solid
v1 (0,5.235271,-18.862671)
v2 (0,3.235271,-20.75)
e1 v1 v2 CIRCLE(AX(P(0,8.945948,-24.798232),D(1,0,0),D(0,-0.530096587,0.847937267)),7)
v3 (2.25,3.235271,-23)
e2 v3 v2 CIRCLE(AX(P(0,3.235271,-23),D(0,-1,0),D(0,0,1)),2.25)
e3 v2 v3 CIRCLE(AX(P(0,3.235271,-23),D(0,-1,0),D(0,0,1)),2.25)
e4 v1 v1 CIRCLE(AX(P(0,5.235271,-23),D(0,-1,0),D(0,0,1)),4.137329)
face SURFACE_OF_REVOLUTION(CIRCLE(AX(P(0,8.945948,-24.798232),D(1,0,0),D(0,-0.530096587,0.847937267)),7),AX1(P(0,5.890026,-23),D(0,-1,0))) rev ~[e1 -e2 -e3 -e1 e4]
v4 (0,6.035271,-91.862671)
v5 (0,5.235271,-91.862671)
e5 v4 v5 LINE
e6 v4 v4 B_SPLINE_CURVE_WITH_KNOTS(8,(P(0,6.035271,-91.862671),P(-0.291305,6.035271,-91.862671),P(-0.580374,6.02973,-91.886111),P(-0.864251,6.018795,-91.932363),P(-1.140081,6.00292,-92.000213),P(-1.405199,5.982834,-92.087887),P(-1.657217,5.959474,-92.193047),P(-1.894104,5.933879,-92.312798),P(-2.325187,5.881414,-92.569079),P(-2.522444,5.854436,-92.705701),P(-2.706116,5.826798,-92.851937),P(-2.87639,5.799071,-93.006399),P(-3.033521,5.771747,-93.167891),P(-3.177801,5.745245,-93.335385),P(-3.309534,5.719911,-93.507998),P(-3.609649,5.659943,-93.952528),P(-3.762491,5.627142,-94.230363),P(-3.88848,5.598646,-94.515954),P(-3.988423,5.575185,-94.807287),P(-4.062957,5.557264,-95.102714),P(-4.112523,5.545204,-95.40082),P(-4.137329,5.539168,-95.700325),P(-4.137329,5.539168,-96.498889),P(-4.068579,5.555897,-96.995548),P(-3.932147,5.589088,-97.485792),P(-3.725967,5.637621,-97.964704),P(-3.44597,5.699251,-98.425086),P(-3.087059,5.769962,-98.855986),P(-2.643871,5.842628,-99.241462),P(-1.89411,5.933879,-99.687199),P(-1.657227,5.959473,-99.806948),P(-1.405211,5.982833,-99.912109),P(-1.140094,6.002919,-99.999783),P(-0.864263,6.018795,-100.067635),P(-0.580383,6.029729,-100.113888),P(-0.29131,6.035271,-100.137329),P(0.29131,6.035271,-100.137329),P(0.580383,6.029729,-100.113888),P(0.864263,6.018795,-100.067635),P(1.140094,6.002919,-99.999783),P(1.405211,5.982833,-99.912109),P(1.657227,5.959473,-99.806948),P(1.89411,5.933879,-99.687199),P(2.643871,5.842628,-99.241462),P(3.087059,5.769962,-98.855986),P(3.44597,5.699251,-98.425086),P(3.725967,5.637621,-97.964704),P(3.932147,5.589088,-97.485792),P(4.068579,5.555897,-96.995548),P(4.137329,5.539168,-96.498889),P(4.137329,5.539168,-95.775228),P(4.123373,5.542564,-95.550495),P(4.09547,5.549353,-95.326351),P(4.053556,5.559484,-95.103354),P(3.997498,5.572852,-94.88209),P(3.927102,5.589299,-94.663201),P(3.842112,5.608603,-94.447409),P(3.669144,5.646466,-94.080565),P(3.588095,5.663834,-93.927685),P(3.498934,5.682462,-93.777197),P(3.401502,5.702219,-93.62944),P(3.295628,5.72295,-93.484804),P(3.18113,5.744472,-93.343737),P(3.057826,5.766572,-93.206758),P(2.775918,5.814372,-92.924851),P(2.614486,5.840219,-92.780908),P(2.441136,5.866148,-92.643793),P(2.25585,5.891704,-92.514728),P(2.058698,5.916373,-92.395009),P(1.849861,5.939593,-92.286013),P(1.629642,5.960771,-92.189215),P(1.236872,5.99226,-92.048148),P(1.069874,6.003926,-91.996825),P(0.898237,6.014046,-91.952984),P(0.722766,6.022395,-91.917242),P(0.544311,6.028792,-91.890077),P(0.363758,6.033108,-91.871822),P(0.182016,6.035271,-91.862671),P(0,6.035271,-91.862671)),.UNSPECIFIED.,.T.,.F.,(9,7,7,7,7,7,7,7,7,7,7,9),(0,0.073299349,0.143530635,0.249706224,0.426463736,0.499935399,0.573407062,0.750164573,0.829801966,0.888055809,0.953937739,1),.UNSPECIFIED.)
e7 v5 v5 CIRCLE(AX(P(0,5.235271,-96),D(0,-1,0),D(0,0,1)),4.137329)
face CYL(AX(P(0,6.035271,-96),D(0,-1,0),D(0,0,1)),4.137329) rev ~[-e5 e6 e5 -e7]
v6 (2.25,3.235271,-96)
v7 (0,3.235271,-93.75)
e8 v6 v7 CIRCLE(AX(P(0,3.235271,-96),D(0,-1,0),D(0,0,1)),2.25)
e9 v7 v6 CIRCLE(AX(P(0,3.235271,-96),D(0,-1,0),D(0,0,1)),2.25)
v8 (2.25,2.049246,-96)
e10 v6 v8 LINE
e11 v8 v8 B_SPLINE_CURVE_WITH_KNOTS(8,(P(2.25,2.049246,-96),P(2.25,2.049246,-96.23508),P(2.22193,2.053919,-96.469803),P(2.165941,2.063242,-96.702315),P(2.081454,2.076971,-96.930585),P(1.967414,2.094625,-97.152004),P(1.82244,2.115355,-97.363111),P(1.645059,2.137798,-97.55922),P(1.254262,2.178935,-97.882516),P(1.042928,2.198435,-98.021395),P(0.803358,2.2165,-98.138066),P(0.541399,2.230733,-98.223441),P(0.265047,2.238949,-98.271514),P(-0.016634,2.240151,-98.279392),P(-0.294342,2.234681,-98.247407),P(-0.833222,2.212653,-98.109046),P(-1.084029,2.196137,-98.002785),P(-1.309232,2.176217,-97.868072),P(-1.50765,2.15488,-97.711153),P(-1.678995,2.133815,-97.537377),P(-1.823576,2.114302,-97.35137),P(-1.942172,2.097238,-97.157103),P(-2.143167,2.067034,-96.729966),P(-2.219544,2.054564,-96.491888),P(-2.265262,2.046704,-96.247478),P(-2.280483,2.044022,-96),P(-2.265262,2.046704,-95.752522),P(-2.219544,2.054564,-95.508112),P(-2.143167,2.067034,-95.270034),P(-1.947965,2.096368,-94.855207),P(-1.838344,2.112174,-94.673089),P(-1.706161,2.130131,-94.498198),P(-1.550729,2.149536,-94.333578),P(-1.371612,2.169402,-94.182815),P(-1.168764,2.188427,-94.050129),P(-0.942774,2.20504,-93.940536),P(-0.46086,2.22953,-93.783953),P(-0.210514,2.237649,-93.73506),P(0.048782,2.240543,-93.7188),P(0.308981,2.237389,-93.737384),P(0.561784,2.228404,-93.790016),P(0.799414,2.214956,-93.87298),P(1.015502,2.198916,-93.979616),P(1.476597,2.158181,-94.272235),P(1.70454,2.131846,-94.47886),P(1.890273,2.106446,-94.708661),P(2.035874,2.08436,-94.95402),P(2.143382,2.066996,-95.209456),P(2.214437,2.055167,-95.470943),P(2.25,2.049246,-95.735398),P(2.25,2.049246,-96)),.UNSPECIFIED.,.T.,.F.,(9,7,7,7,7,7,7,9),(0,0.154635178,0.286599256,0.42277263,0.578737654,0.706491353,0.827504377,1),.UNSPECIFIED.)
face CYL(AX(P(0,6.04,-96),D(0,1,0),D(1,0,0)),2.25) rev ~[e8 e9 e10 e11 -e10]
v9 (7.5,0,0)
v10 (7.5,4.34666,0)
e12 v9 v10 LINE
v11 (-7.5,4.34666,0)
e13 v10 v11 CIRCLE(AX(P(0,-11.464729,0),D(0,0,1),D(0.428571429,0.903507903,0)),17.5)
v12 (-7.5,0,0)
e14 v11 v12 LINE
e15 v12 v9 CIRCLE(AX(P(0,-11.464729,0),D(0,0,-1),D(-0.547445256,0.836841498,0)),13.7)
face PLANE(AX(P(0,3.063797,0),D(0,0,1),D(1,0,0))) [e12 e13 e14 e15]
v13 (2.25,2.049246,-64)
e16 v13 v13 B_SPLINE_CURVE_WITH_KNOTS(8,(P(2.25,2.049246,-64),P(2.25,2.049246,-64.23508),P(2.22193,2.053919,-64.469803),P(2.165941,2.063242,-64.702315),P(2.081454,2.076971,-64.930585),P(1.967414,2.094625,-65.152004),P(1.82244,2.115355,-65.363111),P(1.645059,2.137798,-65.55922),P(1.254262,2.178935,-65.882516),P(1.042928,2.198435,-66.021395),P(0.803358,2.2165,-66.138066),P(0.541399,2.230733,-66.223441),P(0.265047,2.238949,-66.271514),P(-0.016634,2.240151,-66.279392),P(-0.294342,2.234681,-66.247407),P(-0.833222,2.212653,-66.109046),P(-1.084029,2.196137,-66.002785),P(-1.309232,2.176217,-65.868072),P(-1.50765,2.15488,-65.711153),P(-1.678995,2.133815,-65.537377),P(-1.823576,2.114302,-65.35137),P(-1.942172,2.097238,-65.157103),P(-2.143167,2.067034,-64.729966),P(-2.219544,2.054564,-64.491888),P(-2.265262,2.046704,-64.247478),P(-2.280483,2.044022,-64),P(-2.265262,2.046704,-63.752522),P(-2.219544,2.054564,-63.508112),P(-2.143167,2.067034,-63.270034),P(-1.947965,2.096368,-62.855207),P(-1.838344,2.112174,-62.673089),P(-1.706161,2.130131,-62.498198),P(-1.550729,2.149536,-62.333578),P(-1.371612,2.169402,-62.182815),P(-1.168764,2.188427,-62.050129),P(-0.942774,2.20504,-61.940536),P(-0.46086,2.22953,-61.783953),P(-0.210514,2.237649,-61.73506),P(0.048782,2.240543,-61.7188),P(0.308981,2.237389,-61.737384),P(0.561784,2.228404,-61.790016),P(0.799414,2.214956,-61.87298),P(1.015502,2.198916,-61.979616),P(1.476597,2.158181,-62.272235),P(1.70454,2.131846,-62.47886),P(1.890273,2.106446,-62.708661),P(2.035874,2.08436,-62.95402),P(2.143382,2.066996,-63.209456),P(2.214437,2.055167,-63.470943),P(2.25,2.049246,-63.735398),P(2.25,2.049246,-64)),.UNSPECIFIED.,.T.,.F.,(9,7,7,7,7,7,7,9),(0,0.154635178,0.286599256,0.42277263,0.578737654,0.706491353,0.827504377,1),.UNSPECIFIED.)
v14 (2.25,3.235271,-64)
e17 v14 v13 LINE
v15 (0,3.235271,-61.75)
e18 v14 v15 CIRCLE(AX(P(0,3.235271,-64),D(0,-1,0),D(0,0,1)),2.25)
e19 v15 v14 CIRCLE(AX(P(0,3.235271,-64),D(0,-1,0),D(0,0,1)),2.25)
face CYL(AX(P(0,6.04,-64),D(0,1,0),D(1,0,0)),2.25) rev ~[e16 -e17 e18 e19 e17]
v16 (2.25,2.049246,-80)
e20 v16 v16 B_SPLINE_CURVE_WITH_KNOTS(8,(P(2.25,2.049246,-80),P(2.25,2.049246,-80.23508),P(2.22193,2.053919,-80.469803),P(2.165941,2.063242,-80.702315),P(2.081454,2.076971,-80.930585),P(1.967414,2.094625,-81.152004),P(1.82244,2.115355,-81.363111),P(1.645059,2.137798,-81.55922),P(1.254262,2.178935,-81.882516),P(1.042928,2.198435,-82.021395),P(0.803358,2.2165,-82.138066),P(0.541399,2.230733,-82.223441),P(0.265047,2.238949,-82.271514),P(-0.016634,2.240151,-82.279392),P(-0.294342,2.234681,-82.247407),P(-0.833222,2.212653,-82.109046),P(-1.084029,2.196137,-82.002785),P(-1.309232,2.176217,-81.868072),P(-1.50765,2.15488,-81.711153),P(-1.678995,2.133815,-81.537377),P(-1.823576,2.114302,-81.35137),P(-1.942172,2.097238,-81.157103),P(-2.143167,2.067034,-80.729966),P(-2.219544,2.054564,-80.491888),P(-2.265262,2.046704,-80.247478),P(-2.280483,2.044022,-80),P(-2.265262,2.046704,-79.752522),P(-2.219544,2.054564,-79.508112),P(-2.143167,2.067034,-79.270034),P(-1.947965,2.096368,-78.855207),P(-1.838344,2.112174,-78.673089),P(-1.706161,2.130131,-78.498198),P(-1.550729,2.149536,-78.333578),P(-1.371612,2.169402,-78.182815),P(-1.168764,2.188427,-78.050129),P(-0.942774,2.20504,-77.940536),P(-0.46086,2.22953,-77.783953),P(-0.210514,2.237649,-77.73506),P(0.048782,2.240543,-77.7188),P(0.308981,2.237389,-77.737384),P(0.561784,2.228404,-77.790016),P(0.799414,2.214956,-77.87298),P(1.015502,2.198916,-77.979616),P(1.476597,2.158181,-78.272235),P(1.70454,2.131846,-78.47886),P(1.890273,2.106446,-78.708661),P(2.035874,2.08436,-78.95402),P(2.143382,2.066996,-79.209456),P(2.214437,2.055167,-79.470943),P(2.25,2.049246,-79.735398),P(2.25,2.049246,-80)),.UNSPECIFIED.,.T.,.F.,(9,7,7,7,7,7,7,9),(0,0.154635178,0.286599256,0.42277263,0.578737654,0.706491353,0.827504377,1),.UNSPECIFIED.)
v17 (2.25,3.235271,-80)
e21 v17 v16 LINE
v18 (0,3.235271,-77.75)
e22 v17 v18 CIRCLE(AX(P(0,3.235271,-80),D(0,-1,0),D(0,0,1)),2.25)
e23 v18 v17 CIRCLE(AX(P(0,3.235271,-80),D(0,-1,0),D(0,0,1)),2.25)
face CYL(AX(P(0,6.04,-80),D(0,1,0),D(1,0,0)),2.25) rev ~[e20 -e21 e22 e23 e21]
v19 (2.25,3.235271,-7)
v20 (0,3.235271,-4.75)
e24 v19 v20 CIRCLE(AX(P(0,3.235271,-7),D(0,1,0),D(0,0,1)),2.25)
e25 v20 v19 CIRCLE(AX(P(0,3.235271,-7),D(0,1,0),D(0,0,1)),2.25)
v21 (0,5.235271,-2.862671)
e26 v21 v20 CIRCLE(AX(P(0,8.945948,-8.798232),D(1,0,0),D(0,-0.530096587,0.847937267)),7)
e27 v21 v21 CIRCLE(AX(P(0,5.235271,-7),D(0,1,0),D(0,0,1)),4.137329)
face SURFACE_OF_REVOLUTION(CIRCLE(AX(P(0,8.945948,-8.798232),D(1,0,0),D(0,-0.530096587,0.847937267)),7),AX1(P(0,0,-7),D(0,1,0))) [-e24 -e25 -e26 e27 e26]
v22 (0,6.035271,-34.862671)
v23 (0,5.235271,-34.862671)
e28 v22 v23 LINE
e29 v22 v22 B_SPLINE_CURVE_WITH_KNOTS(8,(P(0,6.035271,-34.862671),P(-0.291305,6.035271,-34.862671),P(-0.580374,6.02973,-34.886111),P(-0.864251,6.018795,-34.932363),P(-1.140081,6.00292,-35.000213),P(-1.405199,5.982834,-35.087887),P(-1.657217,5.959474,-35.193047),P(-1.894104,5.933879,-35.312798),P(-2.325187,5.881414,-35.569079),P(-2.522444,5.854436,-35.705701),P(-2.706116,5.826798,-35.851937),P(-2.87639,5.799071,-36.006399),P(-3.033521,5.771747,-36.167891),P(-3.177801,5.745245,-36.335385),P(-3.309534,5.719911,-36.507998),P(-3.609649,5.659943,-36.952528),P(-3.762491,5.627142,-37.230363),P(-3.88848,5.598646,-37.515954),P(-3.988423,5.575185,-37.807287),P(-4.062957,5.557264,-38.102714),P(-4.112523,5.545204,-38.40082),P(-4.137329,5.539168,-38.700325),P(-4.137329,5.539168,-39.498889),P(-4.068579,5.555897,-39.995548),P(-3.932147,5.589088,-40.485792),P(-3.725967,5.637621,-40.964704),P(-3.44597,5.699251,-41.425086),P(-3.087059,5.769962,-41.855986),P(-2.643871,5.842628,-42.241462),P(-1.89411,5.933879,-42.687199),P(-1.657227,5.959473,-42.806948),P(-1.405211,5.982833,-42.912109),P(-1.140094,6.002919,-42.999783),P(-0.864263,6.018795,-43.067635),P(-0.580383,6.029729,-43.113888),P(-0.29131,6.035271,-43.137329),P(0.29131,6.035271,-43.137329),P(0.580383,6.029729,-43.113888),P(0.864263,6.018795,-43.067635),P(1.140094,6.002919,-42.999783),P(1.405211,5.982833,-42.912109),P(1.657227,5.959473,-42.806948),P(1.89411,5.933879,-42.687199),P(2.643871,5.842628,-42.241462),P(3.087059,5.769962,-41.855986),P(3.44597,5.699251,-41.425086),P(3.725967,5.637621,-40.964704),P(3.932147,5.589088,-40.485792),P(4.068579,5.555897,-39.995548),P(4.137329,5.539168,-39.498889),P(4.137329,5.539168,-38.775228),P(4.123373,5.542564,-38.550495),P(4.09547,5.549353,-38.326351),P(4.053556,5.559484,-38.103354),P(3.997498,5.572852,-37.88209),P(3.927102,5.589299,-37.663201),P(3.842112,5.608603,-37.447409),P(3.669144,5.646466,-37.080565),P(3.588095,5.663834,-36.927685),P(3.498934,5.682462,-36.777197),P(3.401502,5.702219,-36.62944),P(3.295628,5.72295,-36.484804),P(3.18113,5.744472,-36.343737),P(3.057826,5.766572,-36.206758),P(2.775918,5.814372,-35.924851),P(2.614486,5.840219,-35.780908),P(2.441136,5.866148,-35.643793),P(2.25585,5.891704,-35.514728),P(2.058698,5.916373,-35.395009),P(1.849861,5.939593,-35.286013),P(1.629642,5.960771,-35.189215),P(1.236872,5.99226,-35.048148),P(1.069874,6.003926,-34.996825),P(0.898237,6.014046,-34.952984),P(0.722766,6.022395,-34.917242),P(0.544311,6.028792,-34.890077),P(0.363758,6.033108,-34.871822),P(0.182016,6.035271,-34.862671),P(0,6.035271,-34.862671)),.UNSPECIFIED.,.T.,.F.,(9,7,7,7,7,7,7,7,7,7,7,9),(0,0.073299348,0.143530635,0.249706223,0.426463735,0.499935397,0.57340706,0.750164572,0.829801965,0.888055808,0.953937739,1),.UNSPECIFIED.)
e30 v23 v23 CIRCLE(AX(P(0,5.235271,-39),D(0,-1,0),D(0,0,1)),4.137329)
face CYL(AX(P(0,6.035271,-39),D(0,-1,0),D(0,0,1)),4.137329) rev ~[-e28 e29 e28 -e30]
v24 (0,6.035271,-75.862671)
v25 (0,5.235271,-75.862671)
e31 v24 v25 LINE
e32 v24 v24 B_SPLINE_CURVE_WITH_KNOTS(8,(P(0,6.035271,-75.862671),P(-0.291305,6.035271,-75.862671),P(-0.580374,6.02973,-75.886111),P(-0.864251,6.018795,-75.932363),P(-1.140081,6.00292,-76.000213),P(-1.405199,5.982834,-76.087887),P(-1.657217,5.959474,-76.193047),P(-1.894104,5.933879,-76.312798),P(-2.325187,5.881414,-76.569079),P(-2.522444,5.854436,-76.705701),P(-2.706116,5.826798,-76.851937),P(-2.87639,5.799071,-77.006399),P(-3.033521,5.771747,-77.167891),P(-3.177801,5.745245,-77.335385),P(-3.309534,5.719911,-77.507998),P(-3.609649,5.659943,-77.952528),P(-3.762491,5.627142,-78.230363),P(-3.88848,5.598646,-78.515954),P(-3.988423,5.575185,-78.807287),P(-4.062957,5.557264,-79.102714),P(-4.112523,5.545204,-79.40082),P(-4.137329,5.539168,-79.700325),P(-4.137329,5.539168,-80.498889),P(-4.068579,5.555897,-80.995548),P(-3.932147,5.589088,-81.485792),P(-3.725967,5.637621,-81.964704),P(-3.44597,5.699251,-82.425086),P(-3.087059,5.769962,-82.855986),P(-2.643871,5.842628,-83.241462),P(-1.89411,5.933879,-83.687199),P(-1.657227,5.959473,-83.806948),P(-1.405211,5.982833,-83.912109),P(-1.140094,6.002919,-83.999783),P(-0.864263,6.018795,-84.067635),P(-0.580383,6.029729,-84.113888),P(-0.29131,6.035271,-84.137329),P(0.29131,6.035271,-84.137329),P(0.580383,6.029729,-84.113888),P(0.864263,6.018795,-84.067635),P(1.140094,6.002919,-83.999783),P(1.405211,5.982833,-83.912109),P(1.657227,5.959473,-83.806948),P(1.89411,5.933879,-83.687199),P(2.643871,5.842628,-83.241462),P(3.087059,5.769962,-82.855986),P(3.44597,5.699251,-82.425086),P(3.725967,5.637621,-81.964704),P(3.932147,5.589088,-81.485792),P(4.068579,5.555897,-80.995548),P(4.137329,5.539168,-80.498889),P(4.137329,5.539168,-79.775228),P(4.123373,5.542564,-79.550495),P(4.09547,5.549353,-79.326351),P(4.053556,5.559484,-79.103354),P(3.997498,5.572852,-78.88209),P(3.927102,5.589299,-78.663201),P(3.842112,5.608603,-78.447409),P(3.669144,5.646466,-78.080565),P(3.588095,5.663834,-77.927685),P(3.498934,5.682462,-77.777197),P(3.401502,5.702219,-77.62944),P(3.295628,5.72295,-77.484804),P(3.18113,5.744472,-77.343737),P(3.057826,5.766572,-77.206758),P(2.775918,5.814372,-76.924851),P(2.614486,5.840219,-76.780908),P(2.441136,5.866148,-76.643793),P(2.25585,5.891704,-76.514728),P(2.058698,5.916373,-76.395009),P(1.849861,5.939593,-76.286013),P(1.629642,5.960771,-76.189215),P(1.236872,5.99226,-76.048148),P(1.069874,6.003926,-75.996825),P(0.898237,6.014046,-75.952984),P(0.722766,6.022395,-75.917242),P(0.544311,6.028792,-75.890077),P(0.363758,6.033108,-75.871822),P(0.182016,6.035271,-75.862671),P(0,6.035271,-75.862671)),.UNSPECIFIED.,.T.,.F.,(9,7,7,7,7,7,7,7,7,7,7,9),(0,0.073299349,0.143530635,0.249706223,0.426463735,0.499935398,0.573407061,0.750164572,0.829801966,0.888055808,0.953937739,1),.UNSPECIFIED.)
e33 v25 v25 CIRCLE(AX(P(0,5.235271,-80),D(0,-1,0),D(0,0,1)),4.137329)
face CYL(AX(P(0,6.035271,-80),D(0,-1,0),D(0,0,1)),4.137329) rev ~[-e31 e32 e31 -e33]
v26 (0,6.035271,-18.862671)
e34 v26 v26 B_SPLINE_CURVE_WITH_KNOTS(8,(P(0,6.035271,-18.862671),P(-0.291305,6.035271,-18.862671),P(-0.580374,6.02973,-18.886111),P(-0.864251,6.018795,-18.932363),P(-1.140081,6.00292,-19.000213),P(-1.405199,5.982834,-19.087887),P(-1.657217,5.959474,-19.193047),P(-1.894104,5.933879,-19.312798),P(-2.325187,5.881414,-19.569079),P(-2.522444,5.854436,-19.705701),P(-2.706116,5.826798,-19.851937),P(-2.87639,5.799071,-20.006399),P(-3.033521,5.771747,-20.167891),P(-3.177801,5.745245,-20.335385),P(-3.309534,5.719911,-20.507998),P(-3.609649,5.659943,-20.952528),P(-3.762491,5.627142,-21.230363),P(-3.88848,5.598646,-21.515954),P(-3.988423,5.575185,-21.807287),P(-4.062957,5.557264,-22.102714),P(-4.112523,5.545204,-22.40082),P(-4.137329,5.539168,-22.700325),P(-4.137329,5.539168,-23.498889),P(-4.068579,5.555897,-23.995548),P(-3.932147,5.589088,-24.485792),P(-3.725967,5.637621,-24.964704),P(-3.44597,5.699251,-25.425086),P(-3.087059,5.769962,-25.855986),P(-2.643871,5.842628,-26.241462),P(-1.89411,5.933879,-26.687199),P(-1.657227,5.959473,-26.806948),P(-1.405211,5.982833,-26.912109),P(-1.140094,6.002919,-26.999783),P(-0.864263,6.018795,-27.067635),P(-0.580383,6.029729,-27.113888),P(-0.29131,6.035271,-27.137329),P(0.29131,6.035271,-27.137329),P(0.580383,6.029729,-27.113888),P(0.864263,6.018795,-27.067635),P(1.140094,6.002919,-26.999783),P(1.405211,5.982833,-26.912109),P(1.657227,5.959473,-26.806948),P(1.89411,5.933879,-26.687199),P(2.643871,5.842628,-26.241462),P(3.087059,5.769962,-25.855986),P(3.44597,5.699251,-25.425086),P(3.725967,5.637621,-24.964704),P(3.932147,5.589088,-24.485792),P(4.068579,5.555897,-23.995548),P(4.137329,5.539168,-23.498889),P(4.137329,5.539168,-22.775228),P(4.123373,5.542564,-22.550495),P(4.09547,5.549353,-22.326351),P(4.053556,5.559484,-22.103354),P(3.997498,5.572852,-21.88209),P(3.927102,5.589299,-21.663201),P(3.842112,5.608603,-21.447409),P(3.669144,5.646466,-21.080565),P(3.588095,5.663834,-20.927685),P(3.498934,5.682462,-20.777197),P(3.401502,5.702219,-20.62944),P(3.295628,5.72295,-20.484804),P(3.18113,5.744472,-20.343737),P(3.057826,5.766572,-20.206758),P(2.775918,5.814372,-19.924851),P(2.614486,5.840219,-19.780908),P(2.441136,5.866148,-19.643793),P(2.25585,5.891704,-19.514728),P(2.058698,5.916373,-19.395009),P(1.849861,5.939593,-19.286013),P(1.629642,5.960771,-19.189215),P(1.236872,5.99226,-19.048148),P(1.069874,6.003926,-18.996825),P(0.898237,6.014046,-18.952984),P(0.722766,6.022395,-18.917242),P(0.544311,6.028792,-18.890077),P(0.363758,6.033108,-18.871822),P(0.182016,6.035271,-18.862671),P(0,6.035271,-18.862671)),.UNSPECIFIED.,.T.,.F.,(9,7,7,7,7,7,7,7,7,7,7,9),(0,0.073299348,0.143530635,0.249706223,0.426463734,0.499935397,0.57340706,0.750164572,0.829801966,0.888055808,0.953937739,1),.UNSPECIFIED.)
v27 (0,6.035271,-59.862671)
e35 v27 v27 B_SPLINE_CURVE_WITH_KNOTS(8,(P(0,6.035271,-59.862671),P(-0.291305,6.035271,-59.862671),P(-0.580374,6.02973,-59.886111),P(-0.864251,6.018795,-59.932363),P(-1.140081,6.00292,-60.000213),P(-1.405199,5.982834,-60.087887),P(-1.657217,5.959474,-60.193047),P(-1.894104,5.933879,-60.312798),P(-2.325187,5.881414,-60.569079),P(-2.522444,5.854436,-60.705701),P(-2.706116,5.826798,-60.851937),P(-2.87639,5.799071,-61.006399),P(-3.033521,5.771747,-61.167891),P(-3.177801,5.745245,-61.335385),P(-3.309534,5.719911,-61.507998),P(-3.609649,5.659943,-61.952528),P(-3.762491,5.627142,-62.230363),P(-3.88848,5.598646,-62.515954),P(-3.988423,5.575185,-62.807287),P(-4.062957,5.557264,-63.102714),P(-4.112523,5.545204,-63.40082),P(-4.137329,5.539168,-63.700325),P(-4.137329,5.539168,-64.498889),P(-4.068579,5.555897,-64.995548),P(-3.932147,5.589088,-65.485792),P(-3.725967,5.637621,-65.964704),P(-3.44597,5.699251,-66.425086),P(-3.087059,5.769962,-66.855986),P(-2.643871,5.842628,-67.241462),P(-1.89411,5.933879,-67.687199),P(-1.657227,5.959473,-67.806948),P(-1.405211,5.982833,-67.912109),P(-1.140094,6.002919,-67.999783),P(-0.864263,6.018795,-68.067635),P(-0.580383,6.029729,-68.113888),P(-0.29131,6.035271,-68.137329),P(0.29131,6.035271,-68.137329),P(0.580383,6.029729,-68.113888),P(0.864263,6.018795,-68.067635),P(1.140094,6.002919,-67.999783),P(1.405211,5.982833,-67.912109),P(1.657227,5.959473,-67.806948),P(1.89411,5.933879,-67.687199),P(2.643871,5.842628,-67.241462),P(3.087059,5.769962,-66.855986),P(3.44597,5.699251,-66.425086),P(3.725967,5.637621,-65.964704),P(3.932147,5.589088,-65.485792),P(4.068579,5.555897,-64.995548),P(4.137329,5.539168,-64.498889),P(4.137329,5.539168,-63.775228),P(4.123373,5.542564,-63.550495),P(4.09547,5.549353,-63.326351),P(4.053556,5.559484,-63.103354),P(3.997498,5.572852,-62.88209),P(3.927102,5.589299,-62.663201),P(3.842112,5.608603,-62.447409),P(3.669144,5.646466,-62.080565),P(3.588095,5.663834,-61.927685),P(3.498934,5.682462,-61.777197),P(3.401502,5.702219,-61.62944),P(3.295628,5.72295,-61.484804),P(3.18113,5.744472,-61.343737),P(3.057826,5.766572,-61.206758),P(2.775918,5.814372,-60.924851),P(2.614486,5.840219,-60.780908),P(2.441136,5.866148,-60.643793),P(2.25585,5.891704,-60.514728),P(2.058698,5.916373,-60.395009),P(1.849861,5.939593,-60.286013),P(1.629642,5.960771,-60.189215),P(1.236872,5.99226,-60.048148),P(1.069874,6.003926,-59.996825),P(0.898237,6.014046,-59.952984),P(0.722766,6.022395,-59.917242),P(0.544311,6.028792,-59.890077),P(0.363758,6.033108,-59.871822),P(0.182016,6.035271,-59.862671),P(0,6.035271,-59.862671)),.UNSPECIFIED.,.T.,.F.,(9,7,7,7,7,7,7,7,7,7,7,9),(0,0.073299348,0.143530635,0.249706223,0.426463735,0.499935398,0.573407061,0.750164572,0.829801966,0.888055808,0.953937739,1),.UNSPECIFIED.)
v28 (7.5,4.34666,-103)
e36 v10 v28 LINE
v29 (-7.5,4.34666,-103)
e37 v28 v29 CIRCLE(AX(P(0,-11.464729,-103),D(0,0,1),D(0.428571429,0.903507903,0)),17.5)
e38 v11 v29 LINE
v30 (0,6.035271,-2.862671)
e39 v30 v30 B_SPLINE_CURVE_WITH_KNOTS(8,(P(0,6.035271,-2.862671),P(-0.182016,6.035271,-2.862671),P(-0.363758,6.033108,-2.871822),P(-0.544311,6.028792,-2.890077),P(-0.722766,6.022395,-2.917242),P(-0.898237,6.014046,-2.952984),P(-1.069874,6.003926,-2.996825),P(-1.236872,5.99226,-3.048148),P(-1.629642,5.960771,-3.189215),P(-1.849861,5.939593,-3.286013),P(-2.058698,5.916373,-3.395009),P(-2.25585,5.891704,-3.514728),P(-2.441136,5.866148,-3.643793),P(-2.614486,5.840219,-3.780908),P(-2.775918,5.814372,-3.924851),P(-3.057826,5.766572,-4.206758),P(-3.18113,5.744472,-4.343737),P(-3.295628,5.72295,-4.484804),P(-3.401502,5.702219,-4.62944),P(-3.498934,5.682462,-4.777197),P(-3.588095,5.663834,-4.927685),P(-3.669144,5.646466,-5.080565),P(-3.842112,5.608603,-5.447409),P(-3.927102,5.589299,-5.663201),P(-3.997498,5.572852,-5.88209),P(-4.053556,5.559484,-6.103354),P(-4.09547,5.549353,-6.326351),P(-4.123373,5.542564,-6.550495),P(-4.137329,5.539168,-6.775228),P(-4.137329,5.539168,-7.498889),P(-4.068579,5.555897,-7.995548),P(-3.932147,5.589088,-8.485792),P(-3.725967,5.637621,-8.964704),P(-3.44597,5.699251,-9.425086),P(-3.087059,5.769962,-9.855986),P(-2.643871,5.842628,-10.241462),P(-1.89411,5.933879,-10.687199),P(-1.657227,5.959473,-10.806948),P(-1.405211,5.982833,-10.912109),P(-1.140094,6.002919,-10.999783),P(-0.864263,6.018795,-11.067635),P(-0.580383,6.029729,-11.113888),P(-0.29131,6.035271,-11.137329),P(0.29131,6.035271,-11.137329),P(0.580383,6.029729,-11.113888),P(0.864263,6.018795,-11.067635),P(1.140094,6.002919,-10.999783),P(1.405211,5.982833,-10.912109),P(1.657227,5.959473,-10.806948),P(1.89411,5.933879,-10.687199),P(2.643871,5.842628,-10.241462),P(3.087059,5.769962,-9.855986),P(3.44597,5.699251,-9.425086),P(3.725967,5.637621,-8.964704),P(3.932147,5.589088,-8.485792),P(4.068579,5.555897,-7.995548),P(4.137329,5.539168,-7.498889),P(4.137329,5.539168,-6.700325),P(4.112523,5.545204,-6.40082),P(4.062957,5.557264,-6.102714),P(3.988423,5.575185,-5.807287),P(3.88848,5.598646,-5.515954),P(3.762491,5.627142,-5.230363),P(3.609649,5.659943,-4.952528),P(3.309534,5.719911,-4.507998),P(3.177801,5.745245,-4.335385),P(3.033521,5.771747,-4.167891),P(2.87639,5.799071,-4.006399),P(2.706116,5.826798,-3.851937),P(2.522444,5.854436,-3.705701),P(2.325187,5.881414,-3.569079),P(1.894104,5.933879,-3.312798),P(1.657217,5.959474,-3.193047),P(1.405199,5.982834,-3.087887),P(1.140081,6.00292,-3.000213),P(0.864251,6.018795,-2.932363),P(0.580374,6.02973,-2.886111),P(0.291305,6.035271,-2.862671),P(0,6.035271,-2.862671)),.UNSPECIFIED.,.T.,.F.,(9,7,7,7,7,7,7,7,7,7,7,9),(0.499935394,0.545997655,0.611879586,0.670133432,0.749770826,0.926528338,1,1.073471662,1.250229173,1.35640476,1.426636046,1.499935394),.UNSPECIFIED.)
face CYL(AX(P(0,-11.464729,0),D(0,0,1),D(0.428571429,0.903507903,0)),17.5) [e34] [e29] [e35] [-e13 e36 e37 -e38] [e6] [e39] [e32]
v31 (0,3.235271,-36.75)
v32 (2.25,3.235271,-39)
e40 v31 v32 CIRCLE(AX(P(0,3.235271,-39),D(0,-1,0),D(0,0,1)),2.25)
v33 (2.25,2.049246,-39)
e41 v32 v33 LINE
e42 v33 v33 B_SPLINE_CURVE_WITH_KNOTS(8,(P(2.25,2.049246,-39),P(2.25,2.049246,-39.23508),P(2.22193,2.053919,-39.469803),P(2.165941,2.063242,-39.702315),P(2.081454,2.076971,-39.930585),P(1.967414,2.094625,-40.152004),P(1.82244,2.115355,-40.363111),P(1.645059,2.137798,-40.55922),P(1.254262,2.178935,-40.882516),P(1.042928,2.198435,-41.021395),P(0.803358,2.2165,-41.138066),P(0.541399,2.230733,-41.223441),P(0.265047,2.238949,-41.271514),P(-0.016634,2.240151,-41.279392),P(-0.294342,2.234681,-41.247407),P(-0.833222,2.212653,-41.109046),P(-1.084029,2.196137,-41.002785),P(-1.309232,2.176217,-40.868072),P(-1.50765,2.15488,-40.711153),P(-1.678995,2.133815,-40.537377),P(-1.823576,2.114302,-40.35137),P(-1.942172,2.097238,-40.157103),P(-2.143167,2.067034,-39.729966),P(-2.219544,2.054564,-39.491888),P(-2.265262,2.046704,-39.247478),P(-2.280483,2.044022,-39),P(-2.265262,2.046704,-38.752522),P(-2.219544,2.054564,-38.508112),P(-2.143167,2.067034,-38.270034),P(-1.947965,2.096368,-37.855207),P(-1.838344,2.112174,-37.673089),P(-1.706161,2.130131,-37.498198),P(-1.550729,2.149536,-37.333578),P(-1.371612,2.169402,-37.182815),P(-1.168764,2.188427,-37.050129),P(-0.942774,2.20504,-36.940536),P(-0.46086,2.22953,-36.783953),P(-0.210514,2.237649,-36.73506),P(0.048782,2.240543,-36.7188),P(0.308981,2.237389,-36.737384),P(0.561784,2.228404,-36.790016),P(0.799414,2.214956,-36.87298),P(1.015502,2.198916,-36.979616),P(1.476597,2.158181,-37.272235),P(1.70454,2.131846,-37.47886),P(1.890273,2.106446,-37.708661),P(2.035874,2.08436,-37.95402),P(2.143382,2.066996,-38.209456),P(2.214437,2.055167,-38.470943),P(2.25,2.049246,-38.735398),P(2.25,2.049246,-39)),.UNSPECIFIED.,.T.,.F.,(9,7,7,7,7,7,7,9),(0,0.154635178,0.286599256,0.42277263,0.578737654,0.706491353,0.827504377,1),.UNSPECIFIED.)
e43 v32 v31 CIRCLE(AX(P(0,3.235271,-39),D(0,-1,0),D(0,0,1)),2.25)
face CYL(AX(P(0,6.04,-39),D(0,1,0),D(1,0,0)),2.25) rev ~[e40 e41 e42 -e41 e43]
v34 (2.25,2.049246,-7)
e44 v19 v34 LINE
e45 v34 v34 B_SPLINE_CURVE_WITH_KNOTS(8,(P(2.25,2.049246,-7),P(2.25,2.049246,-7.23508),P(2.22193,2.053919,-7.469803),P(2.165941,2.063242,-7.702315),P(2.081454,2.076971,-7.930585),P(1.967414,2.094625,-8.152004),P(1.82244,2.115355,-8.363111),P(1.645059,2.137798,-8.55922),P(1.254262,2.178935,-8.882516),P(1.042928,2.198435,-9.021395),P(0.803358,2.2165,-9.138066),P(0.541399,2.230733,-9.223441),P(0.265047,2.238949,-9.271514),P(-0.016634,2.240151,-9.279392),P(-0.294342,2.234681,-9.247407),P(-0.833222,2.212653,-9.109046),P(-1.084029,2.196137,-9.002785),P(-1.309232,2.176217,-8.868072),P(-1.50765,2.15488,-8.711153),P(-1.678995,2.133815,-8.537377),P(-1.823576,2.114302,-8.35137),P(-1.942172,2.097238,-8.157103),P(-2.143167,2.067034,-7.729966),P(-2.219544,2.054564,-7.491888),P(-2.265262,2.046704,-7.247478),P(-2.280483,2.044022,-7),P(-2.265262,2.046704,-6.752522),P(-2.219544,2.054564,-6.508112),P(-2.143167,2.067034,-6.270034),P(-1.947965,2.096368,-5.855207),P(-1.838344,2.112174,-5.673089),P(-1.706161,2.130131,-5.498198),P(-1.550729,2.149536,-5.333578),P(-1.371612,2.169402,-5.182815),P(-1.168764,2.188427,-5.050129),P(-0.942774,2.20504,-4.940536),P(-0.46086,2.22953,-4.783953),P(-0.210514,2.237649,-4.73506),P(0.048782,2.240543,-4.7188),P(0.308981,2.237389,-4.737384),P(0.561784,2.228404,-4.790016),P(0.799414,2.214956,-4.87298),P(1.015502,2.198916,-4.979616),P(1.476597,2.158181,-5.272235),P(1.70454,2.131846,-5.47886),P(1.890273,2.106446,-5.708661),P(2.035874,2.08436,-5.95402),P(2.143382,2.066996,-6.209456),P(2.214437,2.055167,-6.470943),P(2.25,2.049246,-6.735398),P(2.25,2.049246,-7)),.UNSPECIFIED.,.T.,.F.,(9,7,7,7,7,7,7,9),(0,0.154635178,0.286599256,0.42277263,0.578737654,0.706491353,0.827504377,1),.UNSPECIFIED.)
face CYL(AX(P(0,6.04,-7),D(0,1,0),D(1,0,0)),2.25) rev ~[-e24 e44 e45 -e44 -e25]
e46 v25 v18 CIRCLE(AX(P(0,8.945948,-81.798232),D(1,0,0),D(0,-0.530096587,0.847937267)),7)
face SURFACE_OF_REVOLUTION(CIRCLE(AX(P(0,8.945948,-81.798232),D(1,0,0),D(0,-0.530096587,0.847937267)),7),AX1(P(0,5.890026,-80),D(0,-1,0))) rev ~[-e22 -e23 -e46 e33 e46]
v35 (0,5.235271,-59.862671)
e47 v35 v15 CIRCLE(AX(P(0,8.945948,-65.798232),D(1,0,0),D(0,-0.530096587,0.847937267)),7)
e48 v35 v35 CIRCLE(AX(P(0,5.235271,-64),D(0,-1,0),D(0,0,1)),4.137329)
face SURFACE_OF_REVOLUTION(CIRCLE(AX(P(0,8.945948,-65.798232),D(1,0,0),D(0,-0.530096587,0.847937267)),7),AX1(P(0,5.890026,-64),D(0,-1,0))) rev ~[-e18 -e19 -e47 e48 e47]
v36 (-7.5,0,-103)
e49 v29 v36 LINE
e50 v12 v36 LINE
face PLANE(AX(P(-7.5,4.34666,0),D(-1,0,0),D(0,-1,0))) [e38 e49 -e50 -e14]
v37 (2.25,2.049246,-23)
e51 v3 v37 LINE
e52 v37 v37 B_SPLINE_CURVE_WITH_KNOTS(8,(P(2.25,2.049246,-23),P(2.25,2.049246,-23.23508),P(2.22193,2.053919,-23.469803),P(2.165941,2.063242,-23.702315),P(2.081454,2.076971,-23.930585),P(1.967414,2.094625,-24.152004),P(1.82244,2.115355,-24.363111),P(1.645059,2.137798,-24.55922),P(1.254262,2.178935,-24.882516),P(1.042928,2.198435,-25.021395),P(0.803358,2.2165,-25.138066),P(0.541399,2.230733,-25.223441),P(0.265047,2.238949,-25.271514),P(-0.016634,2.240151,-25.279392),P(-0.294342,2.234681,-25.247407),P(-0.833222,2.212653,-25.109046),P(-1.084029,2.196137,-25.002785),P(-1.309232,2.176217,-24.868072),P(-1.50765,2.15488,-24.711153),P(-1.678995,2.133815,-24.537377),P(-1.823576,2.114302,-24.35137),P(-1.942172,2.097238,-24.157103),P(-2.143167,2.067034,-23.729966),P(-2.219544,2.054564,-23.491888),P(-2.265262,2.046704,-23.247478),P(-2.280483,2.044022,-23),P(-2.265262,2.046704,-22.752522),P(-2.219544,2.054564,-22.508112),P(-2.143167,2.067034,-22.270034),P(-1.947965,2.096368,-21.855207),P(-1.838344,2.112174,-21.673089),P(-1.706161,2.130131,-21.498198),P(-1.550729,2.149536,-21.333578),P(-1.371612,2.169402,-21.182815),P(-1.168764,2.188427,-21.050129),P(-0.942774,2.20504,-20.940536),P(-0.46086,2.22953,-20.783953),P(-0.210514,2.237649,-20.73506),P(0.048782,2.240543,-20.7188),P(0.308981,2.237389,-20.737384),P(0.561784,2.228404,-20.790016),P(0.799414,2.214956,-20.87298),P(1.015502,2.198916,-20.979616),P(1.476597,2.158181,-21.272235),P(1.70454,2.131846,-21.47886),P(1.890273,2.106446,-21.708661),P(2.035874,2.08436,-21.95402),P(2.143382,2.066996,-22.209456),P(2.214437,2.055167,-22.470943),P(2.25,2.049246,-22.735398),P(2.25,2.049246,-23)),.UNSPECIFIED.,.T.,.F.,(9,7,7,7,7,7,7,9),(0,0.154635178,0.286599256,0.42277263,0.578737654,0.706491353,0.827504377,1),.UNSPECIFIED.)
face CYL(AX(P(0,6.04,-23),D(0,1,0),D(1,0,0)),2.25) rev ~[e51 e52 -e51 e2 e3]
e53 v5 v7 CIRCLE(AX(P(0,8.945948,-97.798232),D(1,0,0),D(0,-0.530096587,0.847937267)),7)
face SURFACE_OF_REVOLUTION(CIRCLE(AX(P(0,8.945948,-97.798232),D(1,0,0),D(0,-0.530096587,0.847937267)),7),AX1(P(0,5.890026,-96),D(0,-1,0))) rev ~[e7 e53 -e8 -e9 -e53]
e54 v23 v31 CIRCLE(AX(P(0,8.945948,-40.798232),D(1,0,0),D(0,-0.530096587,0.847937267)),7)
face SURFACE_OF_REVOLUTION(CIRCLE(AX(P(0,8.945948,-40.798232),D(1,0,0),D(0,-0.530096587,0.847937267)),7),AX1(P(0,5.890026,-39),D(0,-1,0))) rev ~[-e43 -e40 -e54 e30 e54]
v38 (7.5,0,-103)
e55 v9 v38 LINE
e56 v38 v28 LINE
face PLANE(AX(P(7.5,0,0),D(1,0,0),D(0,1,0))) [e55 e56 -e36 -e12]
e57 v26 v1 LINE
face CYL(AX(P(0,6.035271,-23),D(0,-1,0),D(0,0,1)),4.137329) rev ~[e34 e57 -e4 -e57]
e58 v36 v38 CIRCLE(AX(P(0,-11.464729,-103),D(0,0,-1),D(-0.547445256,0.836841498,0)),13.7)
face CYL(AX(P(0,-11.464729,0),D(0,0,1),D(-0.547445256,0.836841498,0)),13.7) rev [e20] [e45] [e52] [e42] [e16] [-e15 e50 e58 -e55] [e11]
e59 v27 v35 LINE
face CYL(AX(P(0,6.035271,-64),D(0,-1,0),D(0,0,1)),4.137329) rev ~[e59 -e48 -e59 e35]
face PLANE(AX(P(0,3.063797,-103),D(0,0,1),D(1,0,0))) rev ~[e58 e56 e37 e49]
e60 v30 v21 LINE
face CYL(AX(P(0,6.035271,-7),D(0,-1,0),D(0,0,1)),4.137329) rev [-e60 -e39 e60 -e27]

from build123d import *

# Parameters (mm, degrees)
BOSS_EXTRUDE1_DEPTH = 103
CUT_EXTRUDE2_START  = 6.04
SKETCH2_R           = 2.25
CUT_EXTRUDE2_DEPTH  = 11


with BuildPart() as part:
    # Sketch1 → Boss-Extrude1 (new body)
    with BuildSketch(Plane.XY):
        with BuildLine():
            Line((-7.5, 4.346659782), (-7.5, 0))
            ThreePointArc((-7.5, 0), (0, 2.235271482), (7.5, 0))
            Line((7.5, 0), (7.5, 4.346659782))
            ThreePointArc((7.5, 4.346659782), (0, 6.035271482), (-7.5, 4.346659782))
        make_face()
    extrude(amount=-BOSS_EXTRUDE1_DEPTH)

    # Sketch2 → Cut-Extrude2 (cut)
    with BuildSketch(Plane(origin=(0, 0, 0), x_dir=(1, 0, 0), z_dir=(0, 1, 0)).offset(CUT_EXTRUDE2_START)):
        with Locations((0, 39)):
            Circle(SKETCH2_R)
        with Locations((0, 64)):
            Circle(SKETCH2_R)
        with Locations((0, 23)):
            Circle(SKETCH2_R)
        with Locations((0, 7)):
            Circle(SKETCH2_R)
        with Locations((0, 80)):
            Circle(SKETCH2_R)
        with Locations((0, 96)):
            Circle(SKETCH2_R)
    extrude(amount=-CUT_EXTRUDE2_DEPTH, mode=Mode.SUBTRACT)

    # Sketch3 → Cut-Revolve1 (revolve, cut)
    with BuildSketch(Plane(origin=(0, 0, 0), x_dir=(0, 0, -1), z_dir=(1, 0, 0))):
        with BuildLine():
            Line((2.862670642, 6.035271482), (2.862670642, 5.235271482))
            ThreePointArc((2.862670642, 5.235271482), (3.707158189, 4.141681525), (4.75, 3.235271482))
            Line((4.75, 3.235271482), (7, 3.235271482))
            Line((7, 3.235271482), (7, 6.035271482))
            Line((7, 6.035271482), (2.862670642, 6.035271482))
        make_face()
    revolve(axis=Axis((0, 0, -7), (0, 1, 0)), mode=Mode.SUBTRACT)

    # Sketch3<3> → Cut-Revolve2 (revolve, cut)
    with BuildSketch(Plane(origin=(0, 0, 0), x_dir=(0, 0, -1), z_dir=(1, 0, 0))):
        with BuildLine():
            Line((18.862670642, 6.035271482), (18.862670642, 5.235271482))
            ThreePointArc((18.862670642, 5.235271482), (19.707158189, 4.141681525), (20.75, 3.235271482))
            Line((20.75, 3.235271482), (23, 3.235271482))
            Line((23, 3.235271482), (23, 6.035271482))
            Line((23, 6.035271482), (18.862670642, 6.035271482))
        make_face()
    revolve(axis=Axis((0, 5.890025873, -23), (0, -1, 0)), mode=Mode.SUBTRACT)

    # Sketch3<4> → Cut-Revolve3 (revolve, cut)
    with BuildSketch(Plane(origin=(0, 0, 0), x_dir=(0, 0, -1), z_dir=(1, 0, 0))):
        with BuildLine():
            Line((34.862670642, 6.035271482), (34.862670642, 5.235271482))
            ThreePointArc((34.862670642, 5.235271482), (35.707158189, 4.141681525), (36.75, 3.235271482))
            Line((36.75, 3.235271482), (39, 3.235271482))
            Line((39, 3.235271482), (39, 6.035271482))
            Line((39, 6.035271482), (34.862670642, 6.035271482))
        make_face()
    revolve(axis=Axis((0, 5.890025873, -39), (0, -1, 0)), mode=Mode.SUBTRACT)

    # Sketch3<5> → Cut-Revolve4 (revolve, cut)
    with BuildSketch(Plane(origin=(0, 0, 0), x_dir=(0, 0, -1), z_dir=(1, 0, 0))):
        with BuildLine():
            Line((59.862670642, 6.035271482), (59.862670642, 5.235271482))
            ThreePointArc((59.862670642, 5.235271482), (60.707158189, 4.141681525), (61.75, 3.235271482))
            Line((61.75, 3.235271482), (64, 3.235271482))
            Line((64, 3.235271482), (64, 6.035271482))
            Line((64, 6.035271482), (59.862670642, 6.035271482))
        make_face()
    revolve(axis=Axis((0, 5.890025873, -64), (0, -1, 0)), mode=Mode.SUBTRACT)

    # Sketch3<6> → Cut-Revolve5 (revolve, cut)
    with BuildSketch(Plane(origin=(0, 0, 0), x_dir=(0, 0, -1), z_dir=(1, 0, 0))):
        with BuildLine():
            Line((75.862670642, 6.035271482), (75.862670642, 5.235271482))
            ThreePointArc((75.862670642, 5.235271482), (76.707158189, 4.141681525), (77.75, 3.235271482))
            Line((77.75, 3.235271482), (80, 3.235271482))
            Line((80, 3.235271482), (80, 6.035271482))
            Line((80, 6.035271482), (75.862670642, 6.035271482))
        make_face()
    revolve(axis=Axis((0, 5.890025873, -80), (0, -1, 0)), mode=Mode.SUBTRACT)

    # Sketch3<7> → Cut-Revolve6 (revolve, cut)
    with BuildSketch(Plane(origin=(0, 0, 0), x_dir=(0, 0, -1), z_dir=(1, 0, 0))):
        with BuildLine():
            Line((91.862670642, 6.035271482), (91.862670642, 5.235271482))
            ThreePointArc((91.862670642, 5.235271482), (92.707158189, 4.141681525), (93.75, 3.235271482))
            Line((93.75, 3.235271482), (96, 3.235271482))
            Line((96, 3.235271482), (96, 6.035271482))
            Line((96, 6.035271482), (91.862670642, 6.035271482))
        make_face()
    revolve(axis=Axis((0, 5.890025873, -96), (0, -1, 0)), mode=Mode.SUBTRACT)


solid = part.part
